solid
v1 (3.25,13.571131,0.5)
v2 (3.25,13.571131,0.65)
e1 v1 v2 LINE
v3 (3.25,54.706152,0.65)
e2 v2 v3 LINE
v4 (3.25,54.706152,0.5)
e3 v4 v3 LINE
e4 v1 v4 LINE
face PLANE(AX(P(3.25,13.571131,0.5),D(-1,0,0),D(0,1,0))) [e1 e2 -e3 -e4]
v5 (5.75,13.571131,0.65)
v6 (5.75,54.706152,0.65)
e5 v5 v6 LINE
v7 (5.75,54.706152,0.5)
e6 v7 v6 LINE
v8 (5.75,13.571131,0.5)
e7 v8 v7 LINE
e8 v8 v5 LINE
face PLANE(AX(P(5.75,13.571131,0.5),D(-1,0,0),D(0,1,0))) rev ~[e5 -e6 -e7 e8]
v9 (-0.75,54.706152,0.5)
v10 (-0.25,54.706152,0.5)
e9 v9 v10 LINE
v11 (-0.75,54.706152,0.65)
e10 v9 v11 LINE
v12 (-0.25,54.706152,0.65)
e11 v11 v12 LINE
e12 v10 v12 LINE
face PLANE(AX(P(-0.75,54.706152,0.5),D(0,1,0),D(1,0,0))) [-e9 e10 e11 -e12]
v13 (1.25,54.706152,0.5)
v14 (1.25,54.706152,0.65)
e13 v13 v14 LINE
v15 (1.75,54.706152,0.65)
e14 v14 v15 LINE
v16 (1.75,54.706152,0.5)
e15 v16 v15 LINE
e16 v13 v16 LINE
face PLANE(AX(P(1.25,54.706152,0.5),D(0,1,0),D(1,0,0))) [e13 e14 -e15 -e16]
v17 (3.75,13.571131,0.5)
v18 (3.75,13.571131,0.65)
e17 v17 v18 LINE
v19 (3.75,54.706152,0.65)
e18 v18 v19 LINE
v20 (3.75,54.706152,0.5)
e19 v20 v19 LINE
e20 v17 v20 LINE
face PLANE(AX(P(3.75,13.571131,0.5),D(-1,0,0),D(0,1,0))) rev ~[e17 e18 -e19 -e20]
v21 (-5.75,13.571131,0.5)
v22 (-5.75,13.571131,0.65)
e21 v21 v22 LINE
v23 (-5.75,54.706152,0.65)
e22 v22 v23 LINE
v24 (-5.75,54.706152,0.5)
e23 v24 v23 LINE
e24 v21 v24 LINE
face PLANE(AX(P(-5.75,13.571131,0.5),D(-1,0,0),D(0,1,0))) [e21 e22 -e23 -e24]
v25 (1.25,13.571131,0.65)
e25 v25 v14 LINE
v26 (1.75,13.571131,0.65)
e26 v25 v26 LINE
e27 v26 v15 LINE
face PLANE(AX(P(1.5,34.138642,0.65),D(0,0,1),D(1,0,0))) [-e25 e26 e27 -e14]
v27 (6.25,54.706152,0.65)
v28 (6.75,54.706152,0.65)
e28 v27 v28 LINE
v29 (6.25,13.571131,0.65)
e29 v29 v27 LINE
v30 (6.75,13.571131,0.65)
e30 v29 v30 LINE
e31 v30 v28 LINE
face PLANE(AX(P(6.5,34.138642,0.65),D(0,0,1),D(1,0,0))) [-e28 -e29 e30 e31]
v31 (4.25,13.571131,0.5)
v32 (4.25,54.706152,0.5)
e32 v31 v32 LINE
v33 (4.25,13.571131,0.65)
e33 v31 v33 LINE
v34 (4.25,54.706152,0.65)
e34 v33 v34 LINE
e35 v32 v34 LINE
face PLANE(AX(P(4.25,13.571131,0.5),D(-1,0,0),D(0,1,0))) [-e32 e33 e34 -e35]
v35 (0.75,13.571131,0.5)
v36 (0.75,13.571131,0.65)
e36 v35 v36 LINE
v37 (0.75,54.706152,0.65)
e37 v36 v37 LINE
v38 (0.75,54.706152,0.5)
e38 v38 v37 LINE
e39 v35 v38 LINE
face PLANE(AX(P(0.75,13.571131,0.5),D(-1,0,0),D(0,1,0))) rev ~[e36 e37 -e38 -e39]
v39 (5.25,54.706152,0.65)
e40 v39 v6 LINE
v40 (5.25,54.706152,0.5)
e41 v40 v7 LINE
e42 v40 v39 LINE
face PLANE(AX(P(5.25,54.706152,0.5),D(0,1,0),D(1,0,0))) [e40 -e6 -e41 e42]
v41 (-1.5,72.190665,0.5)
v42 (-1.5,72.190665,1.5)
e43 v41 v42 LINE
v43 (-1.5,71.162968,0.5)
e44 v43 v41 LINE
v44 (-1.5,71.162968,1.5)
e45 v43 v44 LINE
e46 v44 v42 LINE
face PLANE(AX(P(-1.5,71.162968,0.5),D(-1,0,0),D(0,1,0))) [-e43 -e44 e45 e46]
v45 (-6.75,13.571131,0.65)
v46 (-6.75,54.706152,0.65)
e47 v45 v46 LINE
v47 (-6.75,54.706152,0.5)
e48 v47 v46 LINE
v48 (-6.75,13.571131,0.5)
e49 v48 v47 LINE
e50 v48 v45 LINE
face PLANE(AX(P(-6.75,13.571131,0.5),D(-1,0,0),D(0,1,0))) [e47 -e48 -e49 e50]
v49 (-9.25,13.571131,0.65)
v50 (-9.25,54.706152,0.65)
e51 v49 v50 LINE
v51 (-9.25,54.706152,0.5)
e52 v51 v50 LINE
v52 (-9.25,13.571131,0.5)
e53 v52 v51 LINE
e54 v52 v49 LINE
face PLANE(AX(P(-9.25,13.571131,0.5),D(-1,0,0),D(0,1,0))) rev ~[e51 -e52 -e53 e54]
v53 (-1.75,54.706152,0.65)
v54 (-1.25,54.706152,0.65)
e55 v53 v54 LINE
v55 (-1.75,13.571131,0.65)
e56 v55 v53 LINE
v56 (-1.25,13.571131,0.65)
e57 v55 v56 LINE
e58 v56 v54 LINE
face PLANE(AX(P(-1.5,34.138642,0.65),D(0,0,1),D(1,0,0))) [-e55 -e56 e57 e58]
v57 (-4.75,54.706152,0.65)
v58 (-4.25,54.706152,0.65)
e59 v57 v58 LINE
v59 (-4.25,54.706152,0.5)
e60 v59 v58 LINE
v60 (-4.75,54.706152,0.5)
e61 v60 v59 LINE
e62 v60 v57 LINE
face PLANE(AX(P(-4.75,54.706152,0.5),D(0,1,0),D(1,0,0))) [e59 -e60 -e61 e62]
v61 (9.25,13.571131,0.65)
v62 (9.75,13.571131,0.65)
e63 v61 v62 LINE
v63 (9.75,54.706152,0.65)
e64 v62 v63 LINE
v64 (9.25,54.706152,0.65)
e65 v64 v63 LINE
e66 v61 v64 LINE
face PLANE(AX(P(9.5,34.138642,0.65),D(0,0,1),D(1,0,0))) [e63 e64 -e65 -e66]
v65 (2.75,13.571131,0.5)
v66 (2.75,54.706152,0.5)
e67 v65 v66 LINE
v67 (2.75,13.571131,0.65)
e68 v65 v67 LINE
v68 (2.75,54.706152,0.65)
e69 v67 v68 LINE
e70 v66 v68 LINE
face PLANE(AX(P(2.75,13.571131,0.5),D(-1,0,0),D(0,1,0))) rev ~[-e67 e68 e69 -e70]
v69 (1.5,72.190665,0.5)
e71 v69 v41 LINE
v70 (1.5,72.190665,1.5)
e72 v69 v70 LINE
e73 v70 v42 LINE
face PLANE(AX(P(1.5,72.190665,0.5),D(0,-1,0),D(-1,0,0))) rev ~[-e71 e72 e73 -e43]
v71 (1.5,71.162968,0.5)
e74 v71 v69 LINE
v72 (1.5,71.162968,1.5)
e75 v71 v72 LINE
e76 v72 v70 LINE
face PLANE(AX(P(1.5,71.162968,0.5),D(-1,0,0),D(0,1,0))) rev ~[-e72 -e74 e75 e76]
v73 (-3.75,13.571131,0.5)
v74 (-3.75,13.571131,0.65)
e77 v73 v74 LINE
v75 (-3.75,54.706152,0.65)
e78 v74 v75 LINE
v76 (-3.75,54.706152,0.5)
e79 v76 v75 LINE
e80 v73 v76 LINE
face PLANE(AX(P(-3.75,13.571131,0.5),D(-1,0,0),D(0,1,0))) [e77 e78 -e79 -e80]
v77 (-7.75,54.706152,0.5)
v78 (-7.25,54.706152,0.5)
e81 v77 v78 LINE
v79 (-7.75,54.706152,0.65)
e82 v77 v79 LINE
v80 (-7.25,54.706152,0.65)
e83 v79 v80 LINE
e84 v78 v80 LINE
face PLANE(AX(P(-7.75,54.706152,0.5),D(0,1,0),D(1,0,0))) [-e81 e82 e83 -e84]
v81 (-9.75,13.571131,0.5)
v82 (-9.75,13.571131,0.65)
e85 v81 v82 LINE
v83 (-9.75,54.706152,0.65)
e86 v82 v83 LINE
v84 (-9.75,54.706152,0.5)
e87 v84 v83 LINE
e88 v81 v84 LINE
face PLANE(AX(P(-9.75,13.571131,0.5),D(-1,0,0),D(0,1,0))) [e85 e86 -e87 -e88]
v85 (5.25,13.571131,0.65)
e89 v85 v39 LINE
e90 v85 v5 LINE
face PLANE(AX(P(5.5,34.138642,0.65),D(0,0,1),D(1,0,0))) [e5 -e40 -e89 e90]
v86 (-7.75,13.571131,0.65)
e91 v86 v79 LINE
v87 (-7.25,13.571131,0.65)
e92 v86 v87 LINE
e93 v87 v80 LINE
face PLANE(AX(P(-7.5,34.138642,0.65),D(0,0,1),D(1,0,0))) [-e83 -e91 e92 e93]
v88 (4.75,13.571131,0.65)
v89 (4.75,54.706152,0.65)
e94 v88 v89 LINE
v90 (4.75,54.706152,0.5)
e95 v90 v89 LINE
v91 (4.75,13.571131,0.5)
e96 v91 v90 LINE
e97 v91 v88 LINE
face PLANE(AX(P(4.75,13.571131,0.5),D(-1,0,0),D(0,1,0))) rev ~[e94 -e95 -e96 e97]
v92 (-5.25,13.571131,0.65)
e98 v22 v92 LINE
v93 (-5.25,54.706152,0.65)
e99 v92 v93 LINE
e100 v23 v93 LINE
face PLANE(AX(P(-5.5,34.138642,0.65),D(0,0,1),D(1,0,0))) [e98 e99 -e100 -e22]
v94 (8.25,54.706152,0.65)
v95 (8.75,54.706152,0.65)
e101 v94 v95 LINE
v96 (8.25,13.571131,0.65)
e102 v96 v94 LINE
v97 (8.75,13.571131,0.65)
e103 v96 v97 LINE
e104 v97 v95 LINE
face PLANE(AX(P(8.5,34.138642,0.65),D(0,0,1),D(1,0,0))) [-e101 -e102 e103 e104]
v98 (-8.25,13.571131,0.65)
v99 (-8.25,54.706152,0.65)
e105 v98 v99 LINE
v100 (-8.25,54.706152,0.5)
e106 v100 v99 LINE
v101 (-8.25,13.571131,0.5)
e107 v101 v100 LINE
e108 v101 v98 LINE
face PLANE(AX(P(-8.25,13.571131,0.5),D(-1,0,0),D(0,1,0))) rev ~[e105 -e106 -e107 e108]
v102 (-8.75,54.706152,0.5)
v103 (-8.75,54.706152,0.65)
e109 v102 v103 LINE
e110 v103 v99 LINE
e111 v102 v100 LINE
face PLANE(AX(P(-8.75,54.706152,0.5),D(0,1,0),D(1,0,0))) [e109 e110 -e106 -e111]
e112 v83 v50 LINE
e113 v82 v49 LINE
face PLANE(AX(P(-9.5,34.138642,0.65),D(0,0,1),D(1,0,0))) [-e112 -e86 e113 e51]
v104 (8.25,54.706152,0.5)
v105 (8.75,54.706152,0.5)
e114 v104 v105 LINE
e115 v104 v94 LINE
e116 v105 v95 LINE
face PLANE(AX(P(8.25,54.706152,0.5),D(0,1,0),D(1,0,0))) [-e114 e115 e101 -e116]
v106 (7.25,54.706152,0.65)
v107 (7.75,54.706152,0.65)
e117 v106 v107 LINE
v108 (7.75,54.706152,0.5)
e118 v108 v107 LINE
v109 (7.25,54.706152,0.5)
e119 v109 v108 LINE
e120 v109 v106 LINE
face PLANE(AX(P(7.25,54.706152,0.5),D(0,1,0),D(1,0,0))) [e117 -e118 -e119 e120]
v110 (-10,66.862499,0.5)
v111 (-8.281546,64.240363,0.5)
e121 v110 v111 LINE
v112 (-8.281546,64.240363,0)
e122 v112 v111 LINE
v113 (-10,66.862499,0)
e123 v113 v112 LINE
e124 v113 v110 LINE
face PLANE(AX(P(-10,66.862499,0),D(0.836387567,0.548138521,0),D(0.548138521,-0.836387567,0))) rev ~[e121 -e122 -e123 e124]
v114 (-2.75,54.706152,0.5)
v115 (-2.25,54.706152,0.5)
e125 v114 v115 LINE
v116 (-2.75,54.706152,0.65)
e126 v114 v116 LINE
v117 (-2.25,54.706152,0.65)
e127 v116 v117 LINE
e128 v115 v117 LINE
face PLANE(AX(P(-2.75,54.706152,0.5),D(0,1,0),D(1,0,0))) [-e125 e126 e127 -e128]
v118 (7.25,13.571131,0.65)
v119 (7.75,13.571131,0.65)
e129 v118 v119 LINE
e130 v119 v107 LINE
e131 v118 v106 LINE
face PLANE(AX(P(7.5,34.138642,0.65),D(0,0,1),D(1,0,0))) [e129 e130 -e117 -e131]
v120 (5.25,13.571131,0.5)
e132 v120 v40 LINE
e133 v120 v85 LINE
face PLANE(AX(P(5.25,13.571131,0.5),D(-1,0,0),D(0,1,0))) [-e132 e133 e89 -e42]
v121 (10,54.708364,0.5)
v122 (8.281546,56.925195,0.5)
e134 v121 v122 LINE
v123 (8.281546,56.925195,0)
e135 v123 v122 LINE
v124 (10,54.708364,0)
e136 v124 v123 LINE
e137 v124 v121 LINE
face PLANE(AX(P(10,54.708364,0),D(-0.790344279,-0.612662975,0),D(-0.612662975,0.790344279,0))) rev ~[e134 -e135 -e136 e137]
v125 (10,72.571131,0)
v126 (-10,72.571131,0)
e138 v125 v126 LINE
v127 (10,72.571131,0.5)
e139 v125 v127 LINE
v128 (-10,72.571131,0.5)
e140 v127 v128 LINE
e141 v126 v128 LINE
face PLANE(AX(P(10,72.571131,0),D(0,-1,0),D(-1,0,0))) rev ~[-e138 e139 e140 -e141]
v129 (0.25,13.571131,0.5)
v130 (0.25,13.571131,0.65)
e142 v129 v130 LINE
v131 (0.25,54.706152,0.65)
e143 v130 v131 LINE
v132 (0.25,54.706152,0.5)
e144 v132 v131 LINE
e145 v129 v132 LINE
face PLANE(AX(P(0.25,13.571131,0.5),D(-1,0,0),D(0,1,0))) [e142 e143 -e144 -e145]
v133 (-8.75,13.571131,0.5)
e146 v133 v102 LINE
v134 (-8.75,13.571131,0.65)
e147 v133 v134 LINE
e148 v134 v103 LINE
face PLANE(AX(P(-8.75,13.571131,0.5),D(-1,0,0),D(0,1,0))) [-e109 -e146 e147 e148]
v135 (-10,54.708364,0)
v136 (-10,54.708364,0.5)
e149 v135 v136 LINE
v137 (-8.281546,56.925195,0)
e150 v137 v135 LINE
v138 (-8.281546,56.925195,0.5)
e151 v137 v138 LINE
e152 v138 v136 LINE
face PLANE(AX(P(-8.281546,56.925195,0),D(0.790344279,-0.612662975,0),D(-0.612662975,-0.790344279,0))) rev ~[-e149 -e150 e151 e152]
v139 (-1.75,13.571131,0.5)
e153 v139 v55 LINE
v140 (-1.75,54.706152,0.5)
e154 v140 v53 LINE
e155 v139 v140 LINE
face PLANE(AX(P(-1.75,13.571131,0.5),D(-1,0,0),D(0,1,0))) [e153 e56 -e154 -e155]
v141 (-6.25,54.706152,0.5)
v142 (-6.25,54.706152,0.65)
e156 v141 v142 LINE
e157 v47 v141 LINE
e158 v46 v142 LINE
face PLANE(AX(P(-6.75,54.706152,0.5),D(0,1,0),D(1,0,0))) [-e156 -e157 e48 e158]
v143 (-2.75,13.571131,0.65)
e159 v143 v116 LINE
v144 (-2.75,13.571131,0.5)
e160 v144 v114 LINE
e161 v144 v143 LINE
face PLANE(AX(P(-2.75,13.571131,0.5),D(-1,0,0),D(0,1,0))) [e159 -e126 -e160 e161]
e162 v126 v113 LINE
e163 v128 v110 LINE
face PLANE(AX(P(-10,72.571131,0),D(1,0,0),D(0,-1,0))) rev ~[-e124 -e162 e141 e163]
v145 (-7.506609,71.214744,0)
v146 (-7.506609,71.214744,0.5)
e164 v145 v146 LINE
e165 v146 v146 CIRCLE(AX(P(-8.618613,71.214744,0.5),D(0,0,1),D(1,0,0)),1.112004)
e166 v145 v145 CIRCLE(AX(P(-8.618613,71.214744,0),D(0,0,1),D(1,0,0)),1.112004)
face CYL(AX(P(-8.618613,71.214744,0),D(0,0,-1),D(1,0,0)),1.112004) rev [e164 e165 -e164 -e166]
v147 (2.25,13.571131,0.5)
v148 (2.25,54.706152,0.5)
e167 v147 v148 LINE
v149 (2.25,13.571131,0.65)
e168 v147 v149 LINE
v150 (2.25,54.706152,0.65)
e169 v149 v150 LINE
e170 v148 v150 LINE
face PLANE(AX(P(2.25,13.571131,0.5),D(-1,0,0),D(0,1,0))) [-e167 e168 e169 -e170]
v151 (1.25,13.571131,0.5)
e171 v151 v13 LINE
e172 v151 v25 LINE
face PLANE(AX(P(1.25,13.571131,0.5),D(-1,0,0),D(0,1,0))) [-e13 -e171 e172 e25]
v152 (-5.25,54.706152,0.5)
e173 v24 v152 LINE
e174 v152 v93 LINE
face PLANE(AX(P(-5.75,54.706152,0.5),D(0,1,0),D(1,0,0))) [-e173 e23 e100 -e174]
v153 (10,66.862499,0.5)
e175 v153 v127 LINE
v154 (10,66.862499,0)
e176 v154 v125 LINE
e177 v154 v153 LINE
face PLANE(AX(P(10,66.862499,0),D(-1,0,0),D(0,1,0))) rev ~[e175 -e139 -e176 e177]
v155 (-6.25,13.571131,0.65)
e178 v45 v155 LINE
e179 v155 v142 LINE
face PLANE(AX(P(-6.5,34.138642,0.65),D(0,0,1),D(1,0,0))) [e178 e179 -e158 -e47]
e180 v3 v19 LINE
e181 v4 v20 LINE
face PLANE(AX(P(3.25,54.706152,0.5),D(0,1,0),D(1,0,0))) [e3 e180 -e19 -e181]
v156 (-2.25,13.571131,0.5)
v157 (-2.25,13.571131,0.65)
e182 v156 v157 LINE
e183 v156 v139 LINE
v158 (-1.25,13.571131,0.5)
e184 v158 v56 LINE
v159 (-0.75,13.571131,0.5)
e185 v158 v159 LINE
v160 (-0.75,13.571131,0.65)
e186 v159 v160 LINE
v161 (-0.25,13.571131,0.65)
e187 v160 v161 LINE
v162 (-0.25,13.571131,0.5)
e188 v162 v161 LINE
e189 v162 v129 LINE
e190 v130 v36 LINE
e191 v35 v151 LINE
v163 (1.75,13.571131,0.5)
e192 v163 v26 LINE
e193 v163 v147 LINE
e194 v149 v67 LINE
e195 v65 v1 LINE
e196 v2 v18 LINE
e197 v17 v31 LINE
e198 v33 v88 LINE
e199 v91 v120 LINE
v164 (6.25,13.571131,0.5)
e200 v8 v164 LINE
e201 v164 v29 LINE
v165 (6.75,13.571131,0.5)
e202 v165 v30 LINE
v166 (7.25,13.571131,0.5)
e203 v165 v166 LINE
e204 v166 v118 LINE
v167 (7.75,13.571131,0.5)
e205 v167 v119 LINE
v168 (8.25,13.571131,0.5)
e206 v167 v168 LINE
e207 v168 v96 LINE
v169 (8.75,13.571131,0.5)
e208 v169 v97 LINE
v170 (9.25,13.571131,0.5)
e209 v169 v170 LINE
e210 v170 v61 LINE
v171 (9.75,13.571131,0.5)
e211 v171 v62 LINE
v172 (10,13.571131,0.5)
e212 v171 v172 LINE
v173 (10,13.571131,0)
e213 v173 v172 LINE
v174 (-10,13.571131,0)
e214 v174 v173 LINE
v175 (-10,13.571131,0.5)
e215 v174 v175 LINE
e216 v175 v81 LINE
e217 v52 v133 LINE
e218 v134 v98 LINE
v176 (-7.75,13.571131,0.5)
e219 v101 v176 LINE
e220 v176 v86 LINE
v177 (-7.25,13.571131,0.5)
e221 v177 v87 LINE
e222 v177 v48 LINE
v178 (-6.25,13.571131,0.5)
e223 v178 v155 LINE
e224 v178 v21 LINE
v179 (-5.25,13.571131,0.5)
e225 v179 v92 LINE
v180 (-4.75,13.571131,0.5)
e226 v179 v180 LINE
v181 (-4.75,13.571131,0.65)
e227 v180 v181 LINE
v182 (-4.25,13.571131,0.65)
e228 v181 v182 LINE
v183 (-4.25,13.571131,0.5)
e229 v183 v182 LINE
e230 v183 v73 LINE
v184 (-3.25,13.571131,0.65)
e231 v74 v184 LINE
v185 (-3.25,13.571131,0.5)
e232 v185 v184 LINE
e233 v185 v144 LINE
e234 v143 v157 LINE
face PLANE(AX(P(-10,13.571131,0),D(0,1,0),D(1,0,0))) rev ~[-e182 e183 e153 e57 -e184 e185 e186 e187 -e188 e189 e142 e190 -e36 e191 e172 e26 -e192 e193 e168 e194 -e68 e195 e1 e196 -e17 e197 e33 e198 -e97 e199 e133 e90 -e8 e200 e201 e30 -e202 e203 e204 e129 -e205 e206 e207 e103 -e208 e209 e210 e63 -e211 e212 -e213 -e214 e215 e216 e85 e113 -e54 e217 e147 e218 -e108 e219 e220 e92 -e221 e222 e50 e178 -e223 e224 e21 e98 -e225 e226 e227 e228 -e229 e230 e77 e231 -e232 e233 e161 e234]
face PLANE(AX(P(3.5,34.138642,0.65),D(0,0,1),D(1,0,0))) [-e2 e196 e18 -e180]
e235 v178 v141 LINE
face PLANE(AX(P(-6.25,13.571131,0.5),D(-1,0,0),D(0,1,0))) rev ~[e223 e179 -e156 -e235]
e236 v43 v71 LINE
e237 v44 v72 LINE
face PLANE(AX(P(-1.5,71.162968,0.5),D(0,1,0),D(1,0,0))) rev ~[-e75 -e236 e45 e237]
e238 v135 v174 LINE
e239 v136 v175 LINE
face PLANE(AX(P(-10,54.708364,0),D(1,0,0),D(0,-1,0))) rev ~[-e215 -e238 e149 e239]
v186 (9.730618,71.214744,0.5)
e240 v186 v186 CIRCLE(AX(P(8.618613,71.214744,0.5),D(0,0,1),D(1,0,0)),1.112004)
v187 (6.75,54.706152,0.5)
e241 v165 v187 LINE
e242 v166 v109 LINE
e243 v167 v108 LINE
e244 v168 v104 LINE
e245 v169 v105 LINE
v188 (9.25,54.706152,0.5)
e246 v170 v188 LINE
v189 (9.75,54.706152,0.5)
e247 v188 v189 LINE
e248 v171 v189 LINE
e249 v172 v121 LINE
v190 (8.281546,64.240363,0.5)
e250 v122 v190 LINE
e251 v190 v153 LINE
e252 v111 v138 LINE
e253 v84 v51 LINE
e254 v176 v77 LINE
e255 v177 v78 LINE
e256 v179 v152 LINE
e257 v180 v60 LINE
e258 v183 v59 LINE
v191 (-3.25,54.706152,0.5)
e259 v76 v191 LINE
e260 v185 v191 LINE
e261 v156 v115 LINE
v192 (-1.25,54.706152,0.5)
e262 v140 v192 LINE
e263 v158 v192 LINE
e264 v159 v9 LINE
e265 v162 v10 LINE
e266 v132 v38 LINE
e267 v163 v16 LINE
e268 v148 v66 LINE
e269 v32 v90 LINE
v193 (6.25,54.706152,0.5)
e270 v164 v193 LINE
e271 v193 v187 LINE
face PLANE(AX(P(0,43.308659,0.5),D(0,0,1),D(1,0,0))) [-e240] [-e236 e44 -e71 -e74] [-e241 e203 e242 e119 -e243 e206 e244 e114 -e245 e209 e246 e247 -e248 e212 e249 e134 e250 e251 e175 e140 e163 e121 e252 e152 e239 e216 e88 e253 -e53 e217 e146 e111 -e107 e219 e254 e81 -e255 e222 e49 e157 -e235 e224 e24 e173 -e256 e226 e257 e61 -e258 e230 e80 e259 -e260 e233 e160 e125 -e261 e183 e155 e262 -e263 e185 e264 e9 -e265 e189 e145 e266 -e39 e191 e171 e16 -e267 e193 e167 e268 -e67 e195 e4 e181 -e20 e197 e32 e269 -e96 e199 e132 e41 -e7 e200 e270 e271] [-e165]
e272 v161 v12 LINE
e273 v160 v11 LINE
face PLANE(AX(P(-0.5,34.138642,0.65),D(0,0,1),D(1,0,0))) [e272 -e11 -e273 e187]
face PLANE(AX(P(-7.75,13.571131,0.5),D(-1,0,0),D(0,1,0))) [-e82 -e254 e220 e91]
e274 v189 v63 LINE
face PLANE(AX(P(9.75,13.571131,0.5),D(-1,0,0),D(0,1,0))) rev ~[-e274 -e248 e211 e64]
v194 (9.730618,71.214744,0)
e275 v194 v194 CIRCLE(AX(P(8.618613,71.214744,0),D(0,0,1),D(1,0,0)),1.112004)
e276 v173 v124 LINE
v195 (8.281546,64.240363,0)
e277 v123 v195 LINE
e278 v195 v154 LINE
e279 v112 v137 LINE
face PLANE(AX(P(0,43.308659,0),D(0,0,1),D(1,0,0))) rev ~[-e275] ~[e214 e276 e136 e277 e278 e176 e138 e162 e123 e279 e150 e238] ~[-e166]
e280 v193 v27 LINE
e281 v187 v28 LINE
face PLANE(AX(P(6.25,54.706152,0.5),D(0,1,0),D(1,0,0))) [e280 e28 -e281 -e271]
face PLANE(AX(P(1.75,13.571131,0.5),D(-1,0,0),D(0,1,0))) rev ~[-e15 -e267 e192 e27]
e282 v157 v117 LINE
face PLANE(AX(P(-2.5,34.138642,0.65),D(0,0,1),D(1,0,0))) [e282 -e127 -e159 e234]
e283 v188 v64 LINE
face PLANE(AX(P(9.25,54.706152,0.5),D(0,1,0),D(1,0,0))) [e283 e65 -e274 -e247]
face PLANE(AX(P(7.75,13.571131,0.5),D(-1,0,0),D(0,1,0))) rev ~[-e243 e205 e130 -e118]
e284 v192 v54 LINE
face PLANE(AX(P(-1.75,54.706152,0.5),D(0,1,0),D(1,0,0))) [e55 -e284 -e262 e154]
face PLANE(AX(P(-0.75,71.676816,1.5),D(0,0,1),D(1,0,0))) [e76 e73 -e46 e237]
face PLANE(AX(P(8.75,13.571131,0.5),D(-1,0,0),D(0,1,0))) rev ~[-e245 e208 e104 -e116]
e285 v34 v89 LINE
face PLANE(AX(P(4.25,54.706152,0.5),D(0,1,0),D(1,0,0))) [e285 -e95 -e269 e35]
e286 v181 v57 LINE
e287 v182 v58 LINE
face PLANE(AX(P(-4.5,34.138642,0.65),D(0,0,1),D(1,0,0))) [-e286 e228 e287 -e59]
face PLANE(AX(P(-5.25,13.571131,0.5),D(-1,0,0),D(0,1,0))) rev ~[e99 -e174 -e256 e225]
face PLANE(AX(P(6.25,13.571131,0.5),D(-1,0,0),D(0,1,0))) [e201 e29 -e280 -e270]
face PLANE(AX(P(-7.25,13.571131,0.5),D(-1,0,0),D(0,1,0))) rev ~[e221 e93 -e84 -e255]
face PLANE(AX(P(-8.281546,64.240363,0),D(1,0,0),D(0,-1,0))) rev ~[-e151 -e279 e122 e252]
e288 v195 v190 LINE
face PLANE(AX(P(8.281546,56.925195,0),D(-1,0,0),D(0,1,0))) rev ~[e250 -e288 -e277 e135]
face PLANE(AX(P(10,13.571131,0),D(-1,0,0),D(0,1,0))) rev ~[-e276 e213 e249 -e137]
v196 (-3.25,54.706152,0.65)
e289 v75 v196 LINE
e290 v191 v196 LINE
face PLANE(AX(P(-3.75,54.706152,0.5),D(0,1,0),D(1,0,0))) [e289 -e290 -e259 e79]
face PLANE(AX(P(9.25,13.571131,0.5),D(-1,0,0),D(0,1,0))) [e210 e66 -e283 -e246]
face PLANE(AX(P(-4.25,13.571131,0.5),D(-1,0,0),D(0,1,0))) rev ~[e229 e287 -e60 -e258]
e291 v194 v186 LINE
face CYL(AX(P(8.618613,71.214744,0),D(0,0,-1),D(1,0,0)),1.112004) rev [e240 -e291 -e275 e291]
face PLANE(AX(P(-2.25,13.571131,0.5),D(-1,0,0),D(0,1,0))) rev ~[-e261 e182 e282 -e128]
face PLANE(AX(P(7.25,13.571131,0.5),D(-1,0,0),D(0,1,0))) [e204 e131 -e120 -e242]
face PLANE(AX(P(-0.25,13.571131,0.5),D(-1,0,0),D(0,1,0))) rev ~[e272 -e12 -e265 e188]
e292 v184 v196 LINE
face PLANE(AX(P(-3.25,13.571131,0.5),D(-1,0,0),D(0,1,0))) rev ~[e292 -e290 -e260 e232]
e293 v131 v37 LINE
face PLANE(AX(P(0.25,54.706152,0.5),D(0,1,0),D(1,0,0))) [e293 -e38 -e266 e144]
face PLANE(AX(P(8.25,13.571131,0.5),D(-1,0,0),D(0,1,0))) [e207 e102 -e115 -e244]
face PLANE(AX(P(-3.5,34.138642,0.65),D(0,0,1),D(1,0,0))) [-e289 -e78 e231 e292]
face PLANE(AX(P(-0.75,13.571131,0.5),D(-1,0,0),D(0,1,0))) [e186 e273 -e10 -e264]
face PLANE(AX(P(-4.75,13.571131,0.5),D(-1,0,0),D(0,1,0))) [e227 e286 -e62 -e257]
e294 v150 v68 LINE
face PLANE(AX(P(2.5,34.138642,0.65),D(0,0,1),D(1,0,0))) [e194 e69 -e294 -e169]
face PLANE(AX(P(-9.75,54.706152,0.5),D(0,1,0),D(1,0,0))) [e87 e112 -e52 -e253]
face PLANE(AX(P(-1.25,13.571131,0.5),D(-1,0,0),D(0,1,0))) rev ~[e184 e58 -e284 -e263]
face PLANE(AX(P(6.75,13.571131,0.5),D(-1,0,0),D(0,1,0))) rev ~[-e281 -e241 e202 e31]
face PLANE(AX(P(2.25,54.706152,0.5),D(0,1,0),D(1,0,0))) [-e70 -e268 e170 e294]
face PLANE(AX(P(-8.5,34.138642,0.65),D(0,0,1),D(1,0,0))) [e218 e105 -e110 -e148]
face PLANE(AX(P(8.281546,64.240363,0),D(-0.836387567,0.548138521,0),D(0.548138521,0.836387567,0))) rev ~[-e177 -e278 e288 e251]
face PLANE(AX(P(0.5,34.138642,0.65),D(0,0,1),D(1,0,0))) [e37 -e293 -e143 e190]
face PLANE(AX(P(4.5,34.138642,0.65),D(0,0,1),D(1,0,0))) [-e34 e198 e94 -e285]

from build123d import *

# Parameters (mm, degrees)
SKETCH2_R           = 1.112004448
BOSS_EXTRUDE1_DEPTH = 0.5
SKETCH3_W           = 0.5
SKETCH3_H           = 41.135021261
BOSS_EXTRUDE2_DEPTH = 0.15
SKETCH4_W           = 1.5
SKETCH4_H           = 1.027696227
BOSS_EXTRUDE3_DEPTH = 1


with BuildPart() as part:
    # Sketch2 → Boss-Extrude1 (new body)
    with BuildSketch(Plane.XY):
        Polygon((-10, 13.571131009), (10, 13.571131009), (10, 54.708363732), (8.281546087, 56.925194639), (8.281546087, 64.240363418), (10, 66.862498938), (10, 72.571131009), (-10, 72.571131009), (-10, 66.862498938), (-8.281546087, 64.240363418), (-8.281546087, 56.925194639), (-10, 54.708363732), align=None)
        with Locations((8.618613348, 71.214744162)):
            Circle(SKETCH2_R, mode=Mode.SUBTRACT)
        with Locations((-8.618613348, 71.214744162)):
            Circle(SKETCH2_R, mode=Mode.SUBTRACT)
    extrude(amount=BOSS_EXTRUDE1_DEPTH)

    # Sketch3 → Boss-Extrude2 (add)
    with BuildSketch(Plane.XY.offset(0.5)):
        with Locations((-9.5, 34.13864164)):
            Rectangle(SKETCH3_W, SKETCH3_H)
        with Locations((-8.5, 34.13864164)):
            Rectangle(SKETCH3_W, SKETCH3_H)
        with Locations((-7.5, 34.13864164)):
            Rectangle(SKETCH3_W, SKETCH3_H)
        with Locations((-6.5, 34.13864164)):
            Rectangle(SKETCH3_W, SKETCH3_H)
        with Locations((-5.5, 34.13864164)):
            Rectangle(SKETCH3_W, SKETCH3_H)
        with Locations((-4.5, 34.13864164)):
            Rectangle(SKETCH3_W, SKETCH3_H)
        with Locations((-3.5, 34.13864164)):
            Rectangle(SKETCH3_W, SKETCH3_H)
        with Locations((-2.5, 34.13864164)):
            Rectangle(SKETCH3_W, SKETCH3_H)
        with Locations((-1.5, 34.13864164)):
            Rectangle(SKETCH3_W, SKETCH3_H)
        with Locations((-0.5, 34.13864164)):
            Rectangle(SKETCH3_W, SKETCH3_H)
        with Locations((0.5, 34.13864164)):
            Rectangle(SKETCH3_W, SKETCH3_H)
        with Locations((1.5, 34.13864164)):
            Rectangle(SKETCH3_W, SKETCH3_H)
        with Locations((2.5, 34.13864164)):
            Rectangle(SKETCH3_W, SKETCH3_H)
        with Locations((3.5, 34.13864164)):
            Rectangle(SKETCH3_W, SKETCH3_H)
        with Locations((4.5, 34.13864164)):
            Rectangle(SKETCH3_W, SKETCH3_H)
        with Locations((5.5, 34.13864164)):
            Rectangle(SKETCH3_W, SKETCH3_H)
        with Locations((6.5, 34.13864164)):
            Rectangle(SKETCH3_W, SKETCH3_H)
        with Locations((7.5, 34.13864164)):
            Rectangle(SKETCH3_W, SKETCH3_H)
        with Locations((8.5, 34.13864164)):
            Rectangle(SKETCH3_W, SKETCH3_H)
        with Locations((9.5, 34.13864164)):
            Rectangle(SKETCH3_W, SKETCH3_H)
    extrude(amount=BOSS_EXTRUDE2_DEPTH)

    # Sketch4 → Boss-Extrude3 (add)
    with BuildSketch(Plane.XY.offset(0.5)):
        with Locations((-0.75, 71.676816486)):
            Rectangle(SKETCH4_W, SKETCH4_H)
        with Locations((0.75, 71.676816486)):
            Rectangle(SKETCH4_W, SKETCH4_H)
    extrude(amount=BOSS_EXTRUDE3_DEPTH)


solid = part.part
